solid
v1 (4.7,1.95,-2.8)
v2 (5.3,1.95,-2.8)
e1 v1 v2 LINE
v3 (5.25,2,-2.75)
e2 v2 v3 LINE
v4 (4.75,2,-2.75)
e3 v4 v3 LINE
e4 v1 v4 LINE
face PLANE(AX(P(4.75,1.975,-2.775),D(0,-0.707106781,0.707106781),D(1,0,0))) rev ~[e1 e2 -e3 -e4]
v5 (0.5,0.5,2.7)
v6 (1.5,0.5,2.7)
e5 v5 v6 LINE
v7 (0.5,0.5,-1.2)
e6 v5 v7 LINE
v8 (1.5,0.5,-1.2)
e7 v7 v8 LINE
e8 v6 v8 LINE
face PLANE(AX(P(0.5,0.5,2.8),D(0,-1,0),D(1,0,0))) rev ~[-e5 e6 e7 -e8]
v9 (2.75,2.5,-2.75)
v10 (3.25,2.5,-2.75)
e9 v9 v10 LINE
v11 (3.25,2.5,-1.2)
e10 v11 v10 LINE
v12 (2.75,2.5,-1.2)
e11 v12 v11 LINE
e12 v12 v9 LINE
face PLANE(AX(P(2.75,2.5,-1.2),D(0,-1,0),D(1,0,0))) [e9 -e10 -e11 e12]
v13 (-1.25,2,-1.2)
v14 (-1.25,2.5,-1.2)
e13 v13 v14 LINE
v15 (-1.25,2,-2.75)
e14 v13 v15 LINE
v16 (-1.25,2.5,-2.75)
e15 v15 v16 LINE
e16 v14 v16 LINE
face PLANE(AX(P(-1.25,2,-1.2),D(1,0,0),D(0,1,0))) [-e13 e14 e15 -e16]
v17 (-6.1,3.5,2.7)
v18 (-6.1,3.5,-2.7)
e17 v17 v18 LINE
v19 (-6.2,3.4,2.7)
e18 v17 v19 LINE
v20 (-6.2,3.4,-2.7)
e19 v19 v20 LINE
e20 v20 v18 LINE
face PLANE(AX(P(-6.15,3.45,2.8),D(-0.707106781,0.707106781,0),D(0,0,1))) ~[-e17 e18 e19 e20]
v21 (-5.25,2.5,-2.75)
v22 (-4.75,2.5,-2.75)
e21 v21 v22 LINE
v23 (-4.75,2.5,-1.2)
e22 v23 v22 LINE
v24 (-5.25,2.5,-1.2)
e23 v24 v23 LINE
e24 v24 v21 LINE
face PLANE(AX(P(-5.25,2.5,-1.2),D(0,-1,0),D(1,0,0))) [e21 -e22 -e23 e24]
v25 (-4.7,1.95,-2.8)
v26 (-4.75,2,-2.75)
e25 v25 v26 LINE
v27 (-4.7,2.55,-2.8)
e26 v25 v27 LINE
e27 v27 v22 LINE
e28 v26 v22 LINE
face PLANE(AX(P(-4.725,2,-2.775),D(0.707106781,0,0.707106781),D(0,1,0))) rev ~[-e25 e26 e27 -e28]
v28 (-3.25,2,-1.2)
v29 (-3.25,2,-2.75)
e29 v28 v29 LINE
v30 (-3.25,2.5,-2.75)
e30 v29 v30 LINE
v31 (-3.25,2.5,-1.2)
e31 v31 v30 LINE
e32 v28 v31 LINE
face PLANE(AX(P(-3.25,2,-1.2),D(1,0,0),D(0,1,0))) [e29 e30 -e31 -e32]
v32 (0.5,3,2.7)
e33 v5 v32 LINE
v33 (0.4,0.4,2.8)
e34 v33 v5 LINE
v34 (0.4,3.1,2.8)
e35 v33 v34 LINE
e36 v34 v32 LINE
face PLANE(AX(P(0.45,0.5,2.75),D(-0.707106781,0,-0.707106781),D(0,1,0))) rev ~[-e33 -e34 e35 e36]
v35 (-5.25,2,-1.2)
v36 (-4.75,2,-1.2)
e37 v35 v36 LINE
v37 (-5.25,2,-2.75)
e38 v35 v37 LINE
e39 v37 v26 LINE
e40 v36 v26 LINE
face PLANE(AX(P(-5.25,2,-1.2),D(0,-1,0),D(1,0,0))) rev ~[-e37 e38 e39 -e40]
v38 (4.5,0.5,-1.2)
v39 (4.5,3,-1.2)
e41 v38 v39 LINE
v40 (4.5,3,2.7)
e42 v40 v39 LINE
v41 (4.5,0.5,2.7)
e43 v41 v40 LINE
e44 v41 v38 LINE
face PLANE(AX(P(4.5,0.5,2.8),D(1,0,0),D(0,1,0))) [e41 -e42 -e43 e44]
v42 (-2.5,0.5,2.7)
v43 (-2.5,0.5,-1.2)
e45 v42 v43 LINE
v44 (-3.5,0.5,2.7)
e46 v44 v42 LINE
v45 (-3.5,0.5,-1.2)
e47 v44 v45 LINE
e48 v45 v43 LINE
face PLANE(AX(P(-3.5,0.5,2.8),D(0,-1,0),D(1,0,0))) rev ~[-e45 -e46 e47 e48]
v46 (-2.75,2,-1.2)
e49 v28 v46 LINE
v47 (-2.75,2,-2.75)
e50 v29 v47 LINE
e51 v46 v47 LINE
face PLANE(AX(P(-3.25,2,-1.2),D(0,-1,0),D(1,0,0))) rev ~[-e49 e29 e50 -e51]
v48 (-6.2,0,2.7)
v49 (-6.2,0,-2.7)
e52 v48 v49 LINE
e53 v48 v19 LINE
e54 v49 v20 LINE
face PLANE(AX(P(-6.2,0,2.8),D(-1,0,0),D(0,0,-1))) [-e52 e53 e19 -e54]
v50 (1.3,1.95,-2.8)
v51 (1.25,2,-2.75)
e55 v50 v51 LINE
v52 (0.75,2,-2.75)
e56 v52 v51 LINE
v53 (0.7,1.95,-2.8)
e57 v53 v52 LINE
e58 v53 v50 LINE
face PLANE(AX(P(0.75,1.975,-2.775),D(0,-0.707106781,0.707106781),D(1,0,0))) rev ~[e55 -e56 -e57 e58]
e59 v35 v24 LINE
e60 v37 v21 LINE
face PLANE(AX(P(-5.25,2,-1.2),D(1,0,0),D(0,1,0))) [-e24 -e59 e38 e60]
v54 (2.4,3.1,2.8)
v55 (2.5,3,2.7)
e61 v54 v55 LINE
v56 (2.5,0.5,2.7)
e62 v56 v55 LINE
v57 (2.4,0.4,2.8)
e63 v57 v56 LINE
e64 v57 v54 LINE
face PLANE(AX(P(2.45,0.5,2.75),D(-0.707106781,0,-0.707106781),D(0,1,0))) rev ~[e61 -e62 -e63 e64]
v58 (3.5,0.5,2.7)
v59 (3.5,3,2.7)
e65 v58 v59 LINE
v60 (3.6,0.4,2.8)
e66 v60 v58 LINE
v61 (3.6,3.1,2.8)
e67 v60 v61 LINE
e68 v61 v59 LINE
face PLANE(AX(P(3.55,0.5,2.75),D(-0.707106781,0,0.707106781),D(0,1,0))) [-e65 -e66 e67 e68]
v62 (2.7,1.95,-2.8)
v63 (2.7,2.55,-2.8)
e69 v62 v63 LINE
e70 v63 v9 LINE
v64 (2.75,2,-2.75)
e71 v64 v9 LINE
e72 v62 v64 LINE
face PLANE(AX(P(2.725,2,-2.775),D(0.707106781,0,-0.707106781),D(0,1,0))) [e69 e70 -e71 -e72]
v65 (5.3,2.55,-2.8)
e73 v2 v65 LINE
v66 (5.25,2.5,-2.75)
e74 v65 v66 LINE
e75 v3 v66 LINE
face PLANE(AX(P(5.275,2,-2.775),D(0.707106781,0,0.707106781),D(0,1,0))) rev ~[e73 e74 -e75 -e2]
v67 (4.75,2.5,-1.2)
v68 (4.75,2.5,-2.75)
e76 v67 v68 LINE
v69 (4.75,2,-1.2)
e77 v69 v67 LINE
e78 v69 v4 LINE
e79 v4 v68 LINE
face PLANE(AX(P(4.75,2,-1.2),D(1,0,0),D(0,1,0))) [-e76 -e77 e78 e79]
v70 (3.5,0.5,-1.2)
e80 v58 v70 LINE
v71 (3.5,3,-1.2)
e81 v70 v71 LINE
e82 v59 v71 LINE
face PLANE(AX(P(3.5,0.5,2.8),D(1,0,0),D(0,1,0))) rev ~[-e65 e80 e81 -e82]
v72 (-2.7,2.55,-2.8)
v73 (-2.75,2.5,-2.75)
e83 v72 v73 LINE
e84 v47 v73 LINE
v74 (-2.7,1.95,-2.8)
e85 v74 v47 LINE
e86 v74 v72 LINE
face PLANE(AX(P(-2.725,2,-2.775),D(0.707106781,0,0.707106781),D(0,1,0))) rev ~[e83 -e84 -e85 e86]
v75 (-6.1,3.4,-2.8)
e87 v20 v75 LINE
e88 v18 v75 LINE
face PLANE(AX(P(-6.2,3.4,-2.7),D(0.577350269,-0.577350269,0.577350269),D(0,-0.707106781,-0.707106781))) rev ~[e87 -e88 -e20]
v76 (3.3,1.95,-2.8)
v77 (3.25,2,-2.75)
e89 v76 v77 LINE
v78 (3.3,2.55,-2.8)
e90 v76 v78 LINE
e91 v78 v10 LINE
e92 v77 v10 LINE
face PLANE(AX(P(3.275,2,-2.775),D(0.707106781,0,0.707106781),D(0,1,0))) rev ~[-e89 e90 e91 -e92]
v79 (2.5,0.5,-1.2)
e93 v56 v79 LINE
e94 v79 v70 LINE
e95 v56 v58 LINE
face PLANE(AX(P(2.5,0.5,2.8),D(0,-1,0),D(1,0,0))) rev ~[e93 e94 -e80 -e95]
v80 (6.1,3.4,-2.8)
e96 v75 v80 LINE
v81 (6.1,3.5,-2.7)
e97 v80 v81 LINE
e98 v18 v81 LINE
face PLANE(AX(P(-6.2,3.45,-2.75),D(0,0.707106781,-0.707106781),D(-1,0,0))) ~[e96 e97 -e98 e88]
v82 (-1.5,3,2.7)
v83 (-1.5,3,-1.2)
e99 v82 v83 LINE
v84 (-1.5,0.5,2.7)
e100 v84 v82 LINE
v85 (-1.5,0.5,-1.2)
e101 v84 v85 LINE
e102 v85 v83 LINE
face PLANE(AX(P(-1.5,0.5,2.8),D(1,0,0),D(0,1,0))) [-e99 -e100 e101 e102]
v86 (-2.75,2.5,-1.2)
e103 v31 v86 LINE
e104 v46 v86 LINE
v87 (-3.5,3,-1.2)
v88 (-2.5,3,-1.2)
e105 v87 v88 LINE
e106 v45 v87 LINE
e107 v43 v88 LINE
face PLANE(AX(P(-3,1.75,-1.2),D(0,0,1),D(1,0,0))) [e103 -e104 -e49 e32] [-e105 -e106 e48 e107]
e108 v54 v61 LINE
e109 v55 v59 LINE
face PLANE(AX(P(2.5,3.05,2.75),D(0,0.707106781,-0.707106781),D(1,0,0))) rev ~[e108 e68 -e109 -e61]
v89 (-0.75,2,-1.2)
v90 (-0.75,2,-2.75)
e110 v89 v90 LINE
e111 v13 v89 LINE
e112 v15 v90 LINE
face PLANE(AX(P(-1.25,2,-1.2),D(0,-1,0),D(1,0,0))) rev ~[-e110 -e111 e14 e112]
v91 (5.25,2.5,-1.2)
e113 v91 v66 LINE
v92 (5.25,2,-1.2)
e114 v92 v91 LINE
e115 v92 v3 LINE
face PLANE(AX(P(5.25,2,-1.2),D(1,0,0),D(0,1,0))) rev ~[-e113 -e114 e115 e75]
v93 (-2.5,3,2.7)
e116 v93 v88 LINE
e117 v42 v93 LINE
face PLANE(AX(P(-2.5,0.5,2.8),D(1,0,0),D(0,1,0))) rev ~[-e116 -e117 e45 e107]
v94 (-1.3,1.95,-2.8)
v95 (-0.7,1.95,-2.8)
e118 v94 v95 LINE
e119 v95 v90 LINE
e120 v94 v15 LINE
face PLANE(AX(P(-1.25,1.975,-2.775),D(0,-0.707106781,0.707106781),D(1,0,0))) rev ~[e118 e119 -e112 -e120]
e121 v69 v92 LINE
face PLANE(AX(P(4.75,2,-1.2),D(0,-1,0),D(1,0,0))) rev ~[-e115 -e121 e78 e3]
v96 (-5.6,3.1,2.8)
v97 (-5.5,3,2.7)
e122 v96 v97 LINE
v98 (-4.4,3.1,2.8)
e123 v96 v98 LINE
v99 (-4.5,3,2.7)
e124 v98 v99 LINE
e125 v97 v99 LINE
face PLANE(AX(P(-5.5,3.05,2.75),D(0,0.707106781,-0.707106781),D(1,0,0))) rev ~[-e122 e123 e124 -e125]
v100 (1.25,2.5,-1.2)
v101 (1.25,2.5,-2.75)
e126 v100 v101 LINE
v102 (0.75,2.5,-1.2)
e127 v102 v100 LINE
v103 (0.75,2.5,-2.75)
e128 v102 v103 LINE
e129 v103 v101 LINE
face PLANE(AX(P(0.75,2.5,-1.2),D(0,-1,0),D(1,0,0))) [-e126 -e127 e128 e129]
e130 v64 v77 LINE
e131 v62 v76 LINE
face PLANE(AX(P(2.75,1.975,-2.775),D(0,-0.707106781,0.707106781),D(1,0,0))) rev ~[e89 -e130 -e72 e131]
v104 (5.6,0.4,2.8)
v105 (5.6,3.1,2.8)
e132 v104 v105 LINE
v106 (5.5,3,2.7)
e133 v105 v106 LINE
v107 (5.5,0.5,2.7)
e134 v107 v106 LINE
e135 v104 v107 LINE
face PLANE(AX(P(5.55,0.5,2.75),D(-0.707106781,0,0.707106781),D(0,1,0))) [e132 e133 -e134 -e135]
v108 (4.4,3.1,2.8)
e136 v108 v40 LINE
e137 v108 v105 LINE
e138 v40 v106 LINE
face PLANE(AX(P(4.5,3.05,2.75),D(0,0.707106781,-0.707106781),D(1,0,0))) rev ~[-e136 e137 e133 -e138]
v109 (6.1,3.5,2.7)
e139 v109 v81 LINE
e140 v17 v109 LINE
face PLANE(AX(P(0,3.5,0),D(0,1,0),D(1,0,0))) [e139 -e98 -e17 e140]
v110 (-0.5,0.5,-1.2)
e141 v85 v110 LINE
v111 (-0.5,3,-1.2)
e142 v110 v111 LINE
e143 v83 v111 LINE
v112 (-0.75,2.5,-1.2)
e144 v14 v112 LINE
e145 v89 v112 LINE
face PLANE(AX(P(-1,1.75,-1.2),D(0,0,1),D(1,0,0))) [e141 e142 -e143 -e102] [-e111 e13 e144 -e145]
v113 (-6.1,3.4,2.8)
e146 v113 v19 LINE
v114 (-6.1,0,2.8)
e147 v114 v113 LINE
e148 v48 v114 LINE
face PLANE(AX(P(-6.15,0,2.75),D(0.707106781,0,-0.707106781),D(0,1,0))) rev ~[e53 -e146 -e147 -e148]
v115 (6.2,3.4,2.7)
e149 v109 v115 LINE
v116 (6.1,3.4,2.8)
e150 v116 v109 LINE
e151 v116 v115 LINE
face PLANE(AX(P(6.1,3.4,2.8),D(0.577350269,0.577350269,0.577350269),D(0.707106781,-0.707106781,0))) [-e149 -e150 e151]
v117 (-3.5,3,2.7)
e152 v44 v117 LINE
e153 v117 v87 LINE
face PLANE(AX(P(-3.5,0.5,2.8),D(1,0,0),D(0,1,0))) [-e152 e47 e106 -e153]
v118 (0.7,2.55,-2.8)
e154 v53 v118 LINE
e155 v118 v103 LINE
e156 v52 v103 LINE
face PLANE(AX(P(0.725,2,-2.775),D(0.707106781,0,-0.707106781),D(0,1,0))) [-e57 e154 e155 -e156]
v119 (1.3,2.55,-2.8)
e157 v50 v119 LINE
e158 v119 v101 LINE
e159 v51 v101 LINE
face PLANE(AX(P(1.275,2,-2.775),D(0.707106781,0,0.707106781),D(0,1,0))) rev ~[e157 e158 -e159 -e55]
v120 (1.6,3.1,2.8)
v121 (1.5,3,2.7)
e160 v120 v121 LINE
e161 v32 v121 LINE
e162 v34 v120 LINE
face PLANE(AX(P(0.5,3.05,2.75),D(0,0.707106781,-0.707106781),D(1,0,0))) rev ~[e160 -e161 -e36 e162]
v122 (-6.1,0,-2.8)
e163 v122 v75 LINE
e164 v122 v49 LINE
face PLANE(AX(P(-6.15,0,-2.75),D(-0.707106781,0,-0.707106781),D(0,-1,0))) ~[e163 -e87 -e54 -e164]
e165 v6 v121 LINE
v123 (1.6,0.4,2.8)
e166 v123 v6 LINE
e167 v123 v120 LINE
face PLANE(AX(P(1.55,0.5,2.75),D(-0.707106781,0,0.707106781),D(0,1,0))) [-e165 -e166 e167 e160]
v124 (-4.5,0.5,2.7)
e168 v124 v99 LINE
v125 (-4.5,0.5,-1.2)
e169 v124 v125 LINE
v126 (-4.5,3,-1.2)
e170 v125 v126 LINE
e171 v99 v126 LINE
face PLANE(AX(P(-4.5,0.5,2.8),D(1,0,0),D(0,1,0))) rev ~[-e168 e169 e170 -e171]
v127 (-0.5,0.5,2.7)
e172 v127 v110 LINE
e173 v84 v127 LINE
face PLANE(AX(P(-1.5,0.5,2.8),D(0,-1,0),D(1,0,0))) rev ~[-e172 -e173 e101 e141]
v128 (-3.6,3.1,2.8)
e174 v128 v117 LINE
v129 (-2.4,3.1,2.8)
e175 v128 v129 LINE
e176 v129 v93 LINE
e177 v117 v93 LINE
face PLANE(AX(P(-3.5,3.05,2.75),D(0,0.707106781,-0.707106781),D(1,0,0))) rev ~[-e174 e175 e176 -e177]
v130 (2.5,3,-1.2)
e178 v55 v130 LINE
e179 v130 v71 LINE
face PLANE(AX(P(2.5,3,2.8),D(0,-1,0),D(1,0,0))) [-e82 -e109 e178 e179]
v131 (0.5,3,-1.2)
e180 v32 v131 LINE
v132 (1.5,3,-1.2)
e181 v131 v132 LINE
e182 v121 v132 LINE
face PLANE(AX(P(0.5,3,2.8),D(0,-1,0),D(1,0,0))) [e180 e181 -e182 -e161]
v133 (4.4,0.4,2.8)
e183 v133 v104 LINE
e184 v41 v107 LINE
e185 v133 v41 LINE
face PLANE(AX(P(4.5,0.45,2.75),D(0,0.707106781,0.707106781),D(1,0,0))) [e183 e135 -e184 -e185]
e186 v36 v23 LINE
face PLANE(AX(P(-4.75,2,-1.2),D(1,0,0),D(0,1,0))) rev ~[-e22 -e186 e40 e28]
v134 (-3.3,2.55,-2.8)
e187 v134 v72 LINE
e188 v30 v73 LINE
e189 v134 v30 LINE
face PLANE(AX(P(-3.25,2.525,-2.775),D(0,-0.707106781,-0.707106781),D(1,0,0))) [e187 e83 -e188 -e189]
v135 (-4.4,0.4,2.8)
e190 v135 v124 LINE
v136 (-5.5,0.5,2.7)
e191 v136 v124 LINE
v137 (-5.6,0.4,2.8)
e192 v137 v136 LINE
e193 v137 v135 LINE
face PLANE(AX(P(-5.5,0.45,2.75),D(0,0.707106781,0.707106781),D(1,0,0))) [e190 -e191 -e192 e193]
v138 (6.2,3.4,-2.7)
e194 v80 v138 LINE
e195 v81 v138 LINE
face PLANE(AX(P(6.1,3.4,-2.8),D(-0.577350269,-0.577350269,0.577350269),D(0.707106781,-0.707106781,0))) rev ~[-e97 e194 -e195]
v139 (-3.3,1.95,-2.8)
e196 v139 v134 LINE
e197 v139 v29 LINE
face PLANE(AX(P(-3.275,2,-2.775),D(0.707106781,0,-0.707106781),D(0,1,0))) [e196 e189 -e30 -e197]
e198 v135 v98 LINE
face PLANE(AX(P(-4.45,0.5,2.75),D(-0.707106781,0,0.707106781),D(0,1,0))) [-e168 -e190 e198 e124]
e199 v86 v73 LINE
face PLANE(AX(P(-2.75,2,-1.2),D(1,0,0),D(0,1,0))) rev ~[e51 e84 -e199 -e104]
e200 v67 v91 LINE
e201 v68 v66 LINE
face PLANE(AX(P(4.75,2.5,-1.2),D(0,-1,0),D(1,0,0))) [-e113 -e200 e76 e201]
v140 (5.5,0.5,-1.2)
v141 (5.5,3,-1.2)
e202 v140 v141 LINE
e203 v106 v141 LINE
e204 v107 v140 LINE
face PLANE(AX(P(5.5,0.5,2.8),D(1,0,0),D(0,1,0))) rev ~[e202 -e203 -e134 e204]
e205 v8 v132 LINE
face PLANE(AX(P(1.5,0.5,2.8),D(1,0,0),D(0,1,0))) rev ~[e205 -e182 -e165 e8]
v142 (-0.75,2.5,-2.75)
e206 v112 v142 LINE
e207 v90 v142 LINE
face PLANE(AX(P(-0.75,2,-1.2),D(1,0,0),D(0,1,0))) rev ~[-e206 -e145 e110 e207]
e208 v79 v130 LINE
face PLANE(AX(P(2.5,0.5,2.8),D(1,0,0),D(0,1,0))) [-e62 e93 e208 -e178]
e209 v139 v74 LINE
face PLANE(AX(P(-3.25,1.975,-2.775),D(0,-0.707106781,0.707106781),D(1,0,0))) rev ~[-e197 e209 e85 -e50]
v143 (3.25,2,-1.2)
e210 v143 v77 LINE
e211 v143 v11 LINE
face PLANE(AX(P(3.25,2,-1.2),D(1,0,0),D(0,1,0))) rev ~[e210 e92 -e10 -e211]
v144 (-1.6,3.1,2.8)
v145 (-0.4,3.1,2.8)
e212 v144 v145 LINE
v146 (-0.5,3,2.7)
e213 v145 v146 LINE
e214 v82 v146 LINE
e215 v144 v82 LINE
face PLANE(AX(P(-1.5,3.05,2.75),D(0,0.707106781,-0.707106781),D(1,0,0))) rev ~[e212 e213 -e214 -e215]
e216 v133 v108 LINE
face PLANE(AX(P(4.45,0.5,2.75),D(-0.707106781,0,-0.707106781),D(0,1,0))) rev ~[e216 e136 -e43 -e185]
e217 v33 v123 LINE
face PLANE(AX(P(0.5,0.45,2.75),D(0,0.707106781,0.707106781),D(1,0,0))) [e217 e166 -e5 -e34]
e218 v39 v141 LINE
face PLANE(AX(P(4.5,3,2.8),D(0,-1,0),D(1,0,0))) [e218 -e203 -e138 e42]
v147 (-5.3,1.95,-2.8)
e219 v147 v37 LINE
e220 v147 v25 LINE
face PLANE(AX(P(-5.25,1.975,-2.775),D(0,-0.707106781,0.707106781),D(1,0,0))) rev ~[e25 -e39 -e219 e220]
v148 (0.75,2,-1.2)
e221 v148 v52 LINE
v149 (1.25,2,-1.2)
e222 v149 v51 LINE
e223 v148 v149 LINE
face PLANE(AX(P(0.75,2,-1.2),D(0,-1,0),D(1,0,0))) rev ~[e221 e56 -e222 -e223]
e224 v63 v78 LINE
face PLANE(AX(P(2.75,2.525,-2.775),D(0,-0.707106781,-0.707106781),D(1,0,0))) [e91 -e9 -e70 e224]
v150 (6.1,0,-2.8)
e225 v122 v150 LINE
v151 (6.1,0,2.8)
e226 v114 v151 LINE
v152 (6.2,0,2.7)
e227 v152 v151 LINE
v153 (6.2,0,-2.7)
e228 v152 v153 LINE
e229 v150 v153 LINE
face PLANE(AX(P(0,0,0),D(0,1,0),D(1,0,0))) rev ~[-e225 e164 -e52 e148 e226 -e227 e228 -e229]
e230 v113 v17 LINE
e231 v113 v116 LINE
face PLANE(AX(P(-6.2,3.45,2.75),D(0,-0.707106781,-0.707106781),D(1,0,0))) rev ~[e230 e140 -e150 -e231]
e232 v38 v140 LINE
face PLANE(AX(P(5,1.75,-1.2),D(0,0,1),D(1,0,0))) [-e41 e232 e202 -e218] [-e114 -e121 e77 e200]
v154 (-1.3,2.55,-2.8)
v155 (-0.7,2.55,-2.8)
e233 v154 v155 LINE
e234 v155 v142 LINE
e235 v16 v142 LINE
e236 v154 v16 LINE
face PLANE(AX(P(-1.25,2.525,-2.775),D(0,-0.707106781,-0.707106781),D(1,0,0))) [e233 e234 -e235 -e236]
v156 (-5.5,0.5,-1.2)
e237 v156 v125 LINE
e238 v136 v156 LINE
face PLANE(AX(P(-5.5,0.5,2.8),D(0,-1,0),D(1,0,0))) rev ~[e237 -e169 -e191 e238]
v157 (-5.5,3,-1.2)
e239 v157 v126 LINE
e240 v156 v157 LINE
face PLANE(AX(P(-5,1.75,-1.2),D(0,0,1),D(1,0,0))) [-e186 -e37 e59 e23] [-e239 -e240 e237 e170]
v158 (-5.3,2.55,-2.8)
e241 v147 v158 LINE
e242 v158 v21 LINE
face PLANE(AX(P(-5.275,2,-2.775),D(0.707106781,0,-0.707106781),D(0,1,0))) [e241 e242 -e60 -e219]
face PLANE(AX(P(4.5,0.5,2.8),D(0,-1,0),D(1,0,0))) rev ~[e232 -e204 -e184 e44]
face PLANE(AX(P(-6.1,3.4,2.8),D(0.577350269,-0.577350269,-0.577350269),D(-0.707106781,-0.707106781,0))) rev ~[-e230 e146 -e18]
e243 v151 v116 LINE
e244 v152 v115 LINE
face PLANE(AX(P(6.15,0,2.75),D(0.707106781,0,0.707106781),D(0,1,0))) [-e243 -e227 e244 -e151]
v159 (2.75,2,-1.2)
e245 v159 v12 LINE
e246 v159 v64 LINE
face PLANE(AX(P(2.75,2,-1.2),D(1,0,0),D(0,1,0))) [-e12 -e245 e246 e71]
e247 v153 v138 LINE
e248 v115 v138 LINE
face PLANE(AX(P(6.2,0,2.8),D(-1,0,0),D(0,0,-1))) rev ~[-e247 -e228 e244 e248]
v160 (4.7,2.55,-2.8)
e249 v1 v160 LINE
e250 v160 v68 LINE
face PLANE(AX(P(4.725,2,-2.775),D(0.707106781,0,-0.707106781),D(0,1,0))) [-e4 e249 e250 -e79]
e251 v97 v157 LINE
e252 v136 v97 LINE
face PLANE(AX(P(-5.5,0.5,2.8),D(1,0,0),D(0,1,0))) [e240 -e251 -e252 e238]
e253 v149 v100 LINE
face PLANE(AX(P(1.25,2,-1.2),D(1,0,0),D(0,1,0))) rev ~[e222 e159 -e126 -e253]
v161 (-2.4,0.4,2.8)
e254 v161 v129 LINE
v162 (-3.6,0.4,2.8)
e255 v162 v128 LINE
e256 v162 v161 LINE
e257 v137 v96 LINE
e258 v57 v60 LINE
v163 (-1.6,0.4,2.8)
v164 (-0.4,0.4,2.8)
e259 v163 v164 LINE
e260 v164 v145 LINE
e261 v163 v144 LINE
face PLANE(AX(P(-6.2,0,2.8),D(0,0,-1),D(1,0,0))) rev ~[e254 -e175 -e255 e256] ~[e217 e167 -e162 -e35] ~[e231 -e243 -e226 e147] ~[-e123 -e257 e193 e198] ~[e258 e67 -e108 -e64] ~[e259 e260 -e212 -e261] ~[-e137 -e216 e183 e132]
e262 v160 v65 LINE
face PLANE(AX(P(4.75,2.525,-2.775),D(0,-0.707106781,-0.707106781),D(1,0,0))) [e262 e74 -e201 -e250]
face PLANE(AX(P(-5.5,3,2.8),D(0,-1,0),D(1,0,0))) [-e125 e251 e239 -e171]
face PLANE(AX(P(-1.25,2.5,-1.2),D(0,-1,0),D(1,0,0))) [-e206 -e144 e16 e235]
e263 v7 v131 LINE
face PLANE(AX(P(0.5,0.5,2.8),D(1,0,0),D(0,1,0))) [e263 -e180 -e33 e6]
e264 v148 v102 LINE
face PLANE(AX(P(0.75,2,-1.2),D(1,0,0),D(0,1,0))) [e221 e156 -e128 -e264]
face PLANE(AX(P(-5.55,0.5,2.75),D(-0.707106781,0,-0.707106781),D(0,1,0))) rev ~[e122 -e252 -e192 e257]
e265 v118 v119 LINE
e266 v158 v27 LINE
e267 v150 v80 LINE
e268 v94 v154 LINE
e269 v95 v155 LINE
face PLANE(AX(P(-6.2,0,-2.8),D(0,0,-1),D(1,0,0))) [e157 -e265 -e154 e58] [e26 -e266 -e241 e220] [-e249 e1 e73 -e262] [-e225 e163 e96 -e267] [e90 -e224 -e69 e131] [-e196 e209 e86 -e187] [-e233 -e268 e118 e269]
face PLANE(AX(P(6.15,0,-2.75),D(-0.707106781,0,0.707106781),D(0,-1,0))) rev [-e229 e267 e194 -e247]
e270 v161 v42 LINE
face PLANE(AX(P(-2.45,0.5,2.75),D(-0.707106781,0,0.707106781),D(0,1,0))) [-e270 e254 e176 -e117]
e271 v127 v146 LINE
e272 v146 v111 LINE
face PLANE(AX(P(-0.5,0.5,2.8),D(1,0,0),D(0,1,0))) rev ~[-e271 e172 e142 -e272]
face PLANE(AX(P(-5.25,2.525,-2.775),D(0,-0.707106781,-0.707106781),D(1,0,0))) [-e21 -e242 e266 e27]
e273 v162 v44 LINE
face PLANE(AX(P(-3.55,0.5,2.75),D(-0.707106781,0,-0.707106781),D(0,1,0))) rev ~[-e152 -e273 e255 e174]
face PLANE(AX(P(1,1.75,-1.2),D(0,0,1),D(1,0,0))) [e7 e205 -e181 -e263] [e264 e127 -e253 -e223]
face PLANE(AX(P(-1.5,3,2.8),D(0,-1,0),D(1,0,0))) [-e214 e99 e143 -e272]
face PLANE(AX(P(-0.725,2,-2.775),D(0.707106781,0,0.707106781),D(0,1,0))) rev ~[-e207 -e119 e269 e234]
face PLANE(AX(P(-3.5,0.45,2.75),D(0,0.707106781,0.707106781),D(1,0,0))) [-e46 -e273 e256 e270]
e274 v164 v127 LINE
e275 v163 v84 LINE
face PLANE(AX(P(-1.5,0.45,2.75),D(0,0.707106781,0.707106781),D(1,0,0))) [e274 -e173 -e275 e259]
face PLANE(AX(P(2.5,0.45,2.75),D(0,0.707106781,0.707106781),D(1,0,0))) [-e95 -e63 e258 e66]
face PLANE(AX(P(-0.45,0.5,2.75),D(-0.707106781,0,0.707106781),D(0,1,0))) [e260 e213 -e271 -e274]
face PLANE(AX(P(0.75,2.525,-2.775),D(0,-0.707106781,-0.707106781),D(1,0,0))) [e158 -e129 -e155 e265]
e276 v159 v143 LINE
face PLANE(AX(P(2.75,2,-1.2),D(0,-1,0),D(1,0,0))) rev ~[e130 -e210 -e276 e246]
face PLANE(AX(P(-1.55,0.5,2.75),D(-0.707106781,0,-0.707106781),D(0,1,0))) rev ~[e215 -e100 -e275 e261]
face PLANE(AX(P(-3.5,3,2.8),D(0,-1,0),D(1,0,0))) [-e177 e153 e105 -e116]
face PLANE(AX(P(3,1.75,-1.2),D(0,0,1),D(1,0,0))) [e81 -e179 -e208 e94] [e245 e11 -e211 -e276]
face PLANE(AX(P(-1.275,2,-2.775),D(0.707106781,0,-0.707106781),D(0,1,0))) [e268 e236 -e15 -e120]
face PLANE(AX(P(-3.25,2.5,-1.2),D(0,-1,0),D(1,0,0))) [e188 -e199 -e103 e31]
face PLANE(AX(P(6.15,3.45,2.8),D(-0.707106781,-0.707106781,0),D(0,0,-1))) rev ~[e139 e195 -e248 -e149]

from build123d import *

# Parameters (mm, degrees)
SKETCH1_W                  = 12.4
SKETCH1_H                  = 5.6
BOSS_EXTRUDE1_DEPTH        = 3.5
SKETCH2_W                  = 1
SKETCH2_H                  = 2.5
CUT_EXTRUDE1_DEPTH         = 4
CHAMFER1_SIZE              = 0.1
CUT_EXTRUDE2_REACH         = 10.166
SKETCH3_W                  = 0.5
SKETCH3_H                  = 0.5
CHAMFER3_SIZE              = 0.05
LPATTERN1_COUNT            = 6
LPATTERN1_PITCH            = 2
CHAMFER1_OF_LPATTERN1_SIZE = 0.1
CHAMFER3_OF_LPATTERN1_SIZE = 0.05
CHAMFER2_SIZE              = 0.1


with BuildPart() as part:
    # Sketch1 → Boss-Extrude1 (new body)
    with BuildSketch(Plane(origin=(0, 0, 0), x_dir=(1, 0, 0), z_dir=(0, 1, 0))):
        Rectangle(SKETCH1_W, SKETCH1_H)
    extrude(amount=BOSS_EXTRUDE1_DEPTH)

    # Sketch2 → Cut-Extrude1 (cut)
    with BuildSketch(Plane.XY.offset(2.8)):
        with Locations((-5, 1.75)):
            Rectangle(SKETCH2_W, SKETCH2_H)
    cut_extrude1 = extrude(amount=-CUT_EXTRUDE1_DEPTH, mode=Mode.SUBTRACT)

    # Chamfer1
    chamfer1_edges = [part.edges().sort_by_distance(p)[0] for p in [
        (-5, 3, 2.8),
        (-4.5, 1.75, 2.8),
        (-5.5, 1.75, 2.8),
        (-5, 0.5, 2.8),
    ]]
    chamfer(chamfer1_edges, length=CHAMFER1_SIZE)

    # Sketch3 → Cut-Extrude2 (cut, up to next)
    with BuildSketch(Plane.XY.offset(-1.2), mode=Mode.PRIVATE) as cut_extrude2_sk1:
        with Locations((-5, 2.25)):
            Rectangle(SKETCH3_W, SKETCH3_H)
    cut_extrude2_tool1 = extrude(cut_extrude2_sk1.sketch, amount=-CUT_EXTRUDE2_REACH, mode=Mode.PRIVATE) & part.part
    cut_extrude2 = cut_extrude2_tool1.solids().sort_by_distance((-5, 2.25, -1.2))[0]
    add(cut_extrude2, mode=Mode.SUBTRACT)

    # Chamfer3
    chamfer3_edges = [part.edges().sort_by_distance(p)[0] for p in [
        (-5.25, 2.25, -2.8),
        (-5, 2, -2.8),
        (-5, 2.5, -2.8),
        (-4.75, 2.25, -2.8),
    ]]
    chamfer(chamfer3_edges, length=CHAMFER3_SIZE)

    # LPattern1: Cut-Extrude1, Cut-Extrude2 ×6
    with Locations(*[(i * LPATTERN1_PITCH, 0, 0) for i in range(1, LPATTERN1_COUNT)]):
        add(cut_extrude1, mode=Mode.SUBTRACT)
        add(cut_extrude2, mode=Mode.SUBTRACT)

    # Chamfer1 of LPattern1
    chamfer1_of_lpattern1_edges = [part.edges().sort_by_distance(p)[0] for p in [
        (-3, 3, 2.8),
        (-2.5, 1.75, 2.8),
        (-3.5, 1.75, 2.8),
        (-3, 0.5, 2.8),
        (-1, 3, 2.8),
        (-0.5, 1.75, 2.8),
        (-1.5, 1.75, 2.8),
        (-1, 0.5, 2.8),
        (1, 3, 2.8),
        (1.5, 1.75, 2.8),
        (0.5, 1.75, 2.8),
        (1, 0.5, 2.8),
        (3, 3, 2.8),
        (3.5, 1.75, 2.8),
        (2.5, 1.75, 2.8),
        (3, 0.5, 2.8),
        (5, 3, 2.8),
        (5.5, 1.75, 2.8),
        (4.5, 1.75, 2.8),
        (5, 0.5, 2.8),
    ]]
    chamfer(chamfer1_of_lpattern1_edges, length=CHAMFER1_OF_LPATTERN1_SIZE)

    # Chamfer3 of LPattern1
    chamfer3_of_lpattern1_edges = [part.edges().sort_by_distance(p)[0] for p in [
        (-3.25, 2.25, -2.8),
        (-3, 2, -2.8),
        (-3, 2.5, -2.8),
        (-2.75, 2.25, -2.8),
        (-1.25, 2.25, -2.8),
        (-1, 2, -2.8),
        (-1, 2.5, -2.8),
        (-0.75, 2.25, -2.8),
        (0.75, 2.25, -2.8),
        (1, 2, -2.8),
        (1, 2.5, -2.8),
        (1.25, 2.25, -2.8),
        (2.75, 2.25, -2.8),
        (3, 2, -2.8),
        (3, 2.5, -2.8),
        (3.25, 2.25, -2.8),
        (4.75, 2.25, -2.8),
        (5, 2, -2.8),
        (5, 2.5, -2.8),
        (5.25, 2.25, -2.8),
    ]]
    chamfer(chamfer3_of_lpattern1_edges, length=CHAMFER3_OF_LPATTERN1_SIZE)

    # Chamfer2
    chamfer2_edges = [part.edges().sort_by_distance(p)[0] for p in [
        (6.2, 3.5, 0),
        (0, 3.5, -2.8),
        (-6.2, 3.5, 0),
        (0, 3.5, 2.8),
        (-6.2, 1.75, -2.8),
        (6.2, 1.75, -2.8),
        (6.2, 1.75, 2.8),
        (-6.2, 1.75, 2.8),
    ]]
    chamfer(chamfer2_edges, length=CHAMFER2_SIZE)


solid = part.part
